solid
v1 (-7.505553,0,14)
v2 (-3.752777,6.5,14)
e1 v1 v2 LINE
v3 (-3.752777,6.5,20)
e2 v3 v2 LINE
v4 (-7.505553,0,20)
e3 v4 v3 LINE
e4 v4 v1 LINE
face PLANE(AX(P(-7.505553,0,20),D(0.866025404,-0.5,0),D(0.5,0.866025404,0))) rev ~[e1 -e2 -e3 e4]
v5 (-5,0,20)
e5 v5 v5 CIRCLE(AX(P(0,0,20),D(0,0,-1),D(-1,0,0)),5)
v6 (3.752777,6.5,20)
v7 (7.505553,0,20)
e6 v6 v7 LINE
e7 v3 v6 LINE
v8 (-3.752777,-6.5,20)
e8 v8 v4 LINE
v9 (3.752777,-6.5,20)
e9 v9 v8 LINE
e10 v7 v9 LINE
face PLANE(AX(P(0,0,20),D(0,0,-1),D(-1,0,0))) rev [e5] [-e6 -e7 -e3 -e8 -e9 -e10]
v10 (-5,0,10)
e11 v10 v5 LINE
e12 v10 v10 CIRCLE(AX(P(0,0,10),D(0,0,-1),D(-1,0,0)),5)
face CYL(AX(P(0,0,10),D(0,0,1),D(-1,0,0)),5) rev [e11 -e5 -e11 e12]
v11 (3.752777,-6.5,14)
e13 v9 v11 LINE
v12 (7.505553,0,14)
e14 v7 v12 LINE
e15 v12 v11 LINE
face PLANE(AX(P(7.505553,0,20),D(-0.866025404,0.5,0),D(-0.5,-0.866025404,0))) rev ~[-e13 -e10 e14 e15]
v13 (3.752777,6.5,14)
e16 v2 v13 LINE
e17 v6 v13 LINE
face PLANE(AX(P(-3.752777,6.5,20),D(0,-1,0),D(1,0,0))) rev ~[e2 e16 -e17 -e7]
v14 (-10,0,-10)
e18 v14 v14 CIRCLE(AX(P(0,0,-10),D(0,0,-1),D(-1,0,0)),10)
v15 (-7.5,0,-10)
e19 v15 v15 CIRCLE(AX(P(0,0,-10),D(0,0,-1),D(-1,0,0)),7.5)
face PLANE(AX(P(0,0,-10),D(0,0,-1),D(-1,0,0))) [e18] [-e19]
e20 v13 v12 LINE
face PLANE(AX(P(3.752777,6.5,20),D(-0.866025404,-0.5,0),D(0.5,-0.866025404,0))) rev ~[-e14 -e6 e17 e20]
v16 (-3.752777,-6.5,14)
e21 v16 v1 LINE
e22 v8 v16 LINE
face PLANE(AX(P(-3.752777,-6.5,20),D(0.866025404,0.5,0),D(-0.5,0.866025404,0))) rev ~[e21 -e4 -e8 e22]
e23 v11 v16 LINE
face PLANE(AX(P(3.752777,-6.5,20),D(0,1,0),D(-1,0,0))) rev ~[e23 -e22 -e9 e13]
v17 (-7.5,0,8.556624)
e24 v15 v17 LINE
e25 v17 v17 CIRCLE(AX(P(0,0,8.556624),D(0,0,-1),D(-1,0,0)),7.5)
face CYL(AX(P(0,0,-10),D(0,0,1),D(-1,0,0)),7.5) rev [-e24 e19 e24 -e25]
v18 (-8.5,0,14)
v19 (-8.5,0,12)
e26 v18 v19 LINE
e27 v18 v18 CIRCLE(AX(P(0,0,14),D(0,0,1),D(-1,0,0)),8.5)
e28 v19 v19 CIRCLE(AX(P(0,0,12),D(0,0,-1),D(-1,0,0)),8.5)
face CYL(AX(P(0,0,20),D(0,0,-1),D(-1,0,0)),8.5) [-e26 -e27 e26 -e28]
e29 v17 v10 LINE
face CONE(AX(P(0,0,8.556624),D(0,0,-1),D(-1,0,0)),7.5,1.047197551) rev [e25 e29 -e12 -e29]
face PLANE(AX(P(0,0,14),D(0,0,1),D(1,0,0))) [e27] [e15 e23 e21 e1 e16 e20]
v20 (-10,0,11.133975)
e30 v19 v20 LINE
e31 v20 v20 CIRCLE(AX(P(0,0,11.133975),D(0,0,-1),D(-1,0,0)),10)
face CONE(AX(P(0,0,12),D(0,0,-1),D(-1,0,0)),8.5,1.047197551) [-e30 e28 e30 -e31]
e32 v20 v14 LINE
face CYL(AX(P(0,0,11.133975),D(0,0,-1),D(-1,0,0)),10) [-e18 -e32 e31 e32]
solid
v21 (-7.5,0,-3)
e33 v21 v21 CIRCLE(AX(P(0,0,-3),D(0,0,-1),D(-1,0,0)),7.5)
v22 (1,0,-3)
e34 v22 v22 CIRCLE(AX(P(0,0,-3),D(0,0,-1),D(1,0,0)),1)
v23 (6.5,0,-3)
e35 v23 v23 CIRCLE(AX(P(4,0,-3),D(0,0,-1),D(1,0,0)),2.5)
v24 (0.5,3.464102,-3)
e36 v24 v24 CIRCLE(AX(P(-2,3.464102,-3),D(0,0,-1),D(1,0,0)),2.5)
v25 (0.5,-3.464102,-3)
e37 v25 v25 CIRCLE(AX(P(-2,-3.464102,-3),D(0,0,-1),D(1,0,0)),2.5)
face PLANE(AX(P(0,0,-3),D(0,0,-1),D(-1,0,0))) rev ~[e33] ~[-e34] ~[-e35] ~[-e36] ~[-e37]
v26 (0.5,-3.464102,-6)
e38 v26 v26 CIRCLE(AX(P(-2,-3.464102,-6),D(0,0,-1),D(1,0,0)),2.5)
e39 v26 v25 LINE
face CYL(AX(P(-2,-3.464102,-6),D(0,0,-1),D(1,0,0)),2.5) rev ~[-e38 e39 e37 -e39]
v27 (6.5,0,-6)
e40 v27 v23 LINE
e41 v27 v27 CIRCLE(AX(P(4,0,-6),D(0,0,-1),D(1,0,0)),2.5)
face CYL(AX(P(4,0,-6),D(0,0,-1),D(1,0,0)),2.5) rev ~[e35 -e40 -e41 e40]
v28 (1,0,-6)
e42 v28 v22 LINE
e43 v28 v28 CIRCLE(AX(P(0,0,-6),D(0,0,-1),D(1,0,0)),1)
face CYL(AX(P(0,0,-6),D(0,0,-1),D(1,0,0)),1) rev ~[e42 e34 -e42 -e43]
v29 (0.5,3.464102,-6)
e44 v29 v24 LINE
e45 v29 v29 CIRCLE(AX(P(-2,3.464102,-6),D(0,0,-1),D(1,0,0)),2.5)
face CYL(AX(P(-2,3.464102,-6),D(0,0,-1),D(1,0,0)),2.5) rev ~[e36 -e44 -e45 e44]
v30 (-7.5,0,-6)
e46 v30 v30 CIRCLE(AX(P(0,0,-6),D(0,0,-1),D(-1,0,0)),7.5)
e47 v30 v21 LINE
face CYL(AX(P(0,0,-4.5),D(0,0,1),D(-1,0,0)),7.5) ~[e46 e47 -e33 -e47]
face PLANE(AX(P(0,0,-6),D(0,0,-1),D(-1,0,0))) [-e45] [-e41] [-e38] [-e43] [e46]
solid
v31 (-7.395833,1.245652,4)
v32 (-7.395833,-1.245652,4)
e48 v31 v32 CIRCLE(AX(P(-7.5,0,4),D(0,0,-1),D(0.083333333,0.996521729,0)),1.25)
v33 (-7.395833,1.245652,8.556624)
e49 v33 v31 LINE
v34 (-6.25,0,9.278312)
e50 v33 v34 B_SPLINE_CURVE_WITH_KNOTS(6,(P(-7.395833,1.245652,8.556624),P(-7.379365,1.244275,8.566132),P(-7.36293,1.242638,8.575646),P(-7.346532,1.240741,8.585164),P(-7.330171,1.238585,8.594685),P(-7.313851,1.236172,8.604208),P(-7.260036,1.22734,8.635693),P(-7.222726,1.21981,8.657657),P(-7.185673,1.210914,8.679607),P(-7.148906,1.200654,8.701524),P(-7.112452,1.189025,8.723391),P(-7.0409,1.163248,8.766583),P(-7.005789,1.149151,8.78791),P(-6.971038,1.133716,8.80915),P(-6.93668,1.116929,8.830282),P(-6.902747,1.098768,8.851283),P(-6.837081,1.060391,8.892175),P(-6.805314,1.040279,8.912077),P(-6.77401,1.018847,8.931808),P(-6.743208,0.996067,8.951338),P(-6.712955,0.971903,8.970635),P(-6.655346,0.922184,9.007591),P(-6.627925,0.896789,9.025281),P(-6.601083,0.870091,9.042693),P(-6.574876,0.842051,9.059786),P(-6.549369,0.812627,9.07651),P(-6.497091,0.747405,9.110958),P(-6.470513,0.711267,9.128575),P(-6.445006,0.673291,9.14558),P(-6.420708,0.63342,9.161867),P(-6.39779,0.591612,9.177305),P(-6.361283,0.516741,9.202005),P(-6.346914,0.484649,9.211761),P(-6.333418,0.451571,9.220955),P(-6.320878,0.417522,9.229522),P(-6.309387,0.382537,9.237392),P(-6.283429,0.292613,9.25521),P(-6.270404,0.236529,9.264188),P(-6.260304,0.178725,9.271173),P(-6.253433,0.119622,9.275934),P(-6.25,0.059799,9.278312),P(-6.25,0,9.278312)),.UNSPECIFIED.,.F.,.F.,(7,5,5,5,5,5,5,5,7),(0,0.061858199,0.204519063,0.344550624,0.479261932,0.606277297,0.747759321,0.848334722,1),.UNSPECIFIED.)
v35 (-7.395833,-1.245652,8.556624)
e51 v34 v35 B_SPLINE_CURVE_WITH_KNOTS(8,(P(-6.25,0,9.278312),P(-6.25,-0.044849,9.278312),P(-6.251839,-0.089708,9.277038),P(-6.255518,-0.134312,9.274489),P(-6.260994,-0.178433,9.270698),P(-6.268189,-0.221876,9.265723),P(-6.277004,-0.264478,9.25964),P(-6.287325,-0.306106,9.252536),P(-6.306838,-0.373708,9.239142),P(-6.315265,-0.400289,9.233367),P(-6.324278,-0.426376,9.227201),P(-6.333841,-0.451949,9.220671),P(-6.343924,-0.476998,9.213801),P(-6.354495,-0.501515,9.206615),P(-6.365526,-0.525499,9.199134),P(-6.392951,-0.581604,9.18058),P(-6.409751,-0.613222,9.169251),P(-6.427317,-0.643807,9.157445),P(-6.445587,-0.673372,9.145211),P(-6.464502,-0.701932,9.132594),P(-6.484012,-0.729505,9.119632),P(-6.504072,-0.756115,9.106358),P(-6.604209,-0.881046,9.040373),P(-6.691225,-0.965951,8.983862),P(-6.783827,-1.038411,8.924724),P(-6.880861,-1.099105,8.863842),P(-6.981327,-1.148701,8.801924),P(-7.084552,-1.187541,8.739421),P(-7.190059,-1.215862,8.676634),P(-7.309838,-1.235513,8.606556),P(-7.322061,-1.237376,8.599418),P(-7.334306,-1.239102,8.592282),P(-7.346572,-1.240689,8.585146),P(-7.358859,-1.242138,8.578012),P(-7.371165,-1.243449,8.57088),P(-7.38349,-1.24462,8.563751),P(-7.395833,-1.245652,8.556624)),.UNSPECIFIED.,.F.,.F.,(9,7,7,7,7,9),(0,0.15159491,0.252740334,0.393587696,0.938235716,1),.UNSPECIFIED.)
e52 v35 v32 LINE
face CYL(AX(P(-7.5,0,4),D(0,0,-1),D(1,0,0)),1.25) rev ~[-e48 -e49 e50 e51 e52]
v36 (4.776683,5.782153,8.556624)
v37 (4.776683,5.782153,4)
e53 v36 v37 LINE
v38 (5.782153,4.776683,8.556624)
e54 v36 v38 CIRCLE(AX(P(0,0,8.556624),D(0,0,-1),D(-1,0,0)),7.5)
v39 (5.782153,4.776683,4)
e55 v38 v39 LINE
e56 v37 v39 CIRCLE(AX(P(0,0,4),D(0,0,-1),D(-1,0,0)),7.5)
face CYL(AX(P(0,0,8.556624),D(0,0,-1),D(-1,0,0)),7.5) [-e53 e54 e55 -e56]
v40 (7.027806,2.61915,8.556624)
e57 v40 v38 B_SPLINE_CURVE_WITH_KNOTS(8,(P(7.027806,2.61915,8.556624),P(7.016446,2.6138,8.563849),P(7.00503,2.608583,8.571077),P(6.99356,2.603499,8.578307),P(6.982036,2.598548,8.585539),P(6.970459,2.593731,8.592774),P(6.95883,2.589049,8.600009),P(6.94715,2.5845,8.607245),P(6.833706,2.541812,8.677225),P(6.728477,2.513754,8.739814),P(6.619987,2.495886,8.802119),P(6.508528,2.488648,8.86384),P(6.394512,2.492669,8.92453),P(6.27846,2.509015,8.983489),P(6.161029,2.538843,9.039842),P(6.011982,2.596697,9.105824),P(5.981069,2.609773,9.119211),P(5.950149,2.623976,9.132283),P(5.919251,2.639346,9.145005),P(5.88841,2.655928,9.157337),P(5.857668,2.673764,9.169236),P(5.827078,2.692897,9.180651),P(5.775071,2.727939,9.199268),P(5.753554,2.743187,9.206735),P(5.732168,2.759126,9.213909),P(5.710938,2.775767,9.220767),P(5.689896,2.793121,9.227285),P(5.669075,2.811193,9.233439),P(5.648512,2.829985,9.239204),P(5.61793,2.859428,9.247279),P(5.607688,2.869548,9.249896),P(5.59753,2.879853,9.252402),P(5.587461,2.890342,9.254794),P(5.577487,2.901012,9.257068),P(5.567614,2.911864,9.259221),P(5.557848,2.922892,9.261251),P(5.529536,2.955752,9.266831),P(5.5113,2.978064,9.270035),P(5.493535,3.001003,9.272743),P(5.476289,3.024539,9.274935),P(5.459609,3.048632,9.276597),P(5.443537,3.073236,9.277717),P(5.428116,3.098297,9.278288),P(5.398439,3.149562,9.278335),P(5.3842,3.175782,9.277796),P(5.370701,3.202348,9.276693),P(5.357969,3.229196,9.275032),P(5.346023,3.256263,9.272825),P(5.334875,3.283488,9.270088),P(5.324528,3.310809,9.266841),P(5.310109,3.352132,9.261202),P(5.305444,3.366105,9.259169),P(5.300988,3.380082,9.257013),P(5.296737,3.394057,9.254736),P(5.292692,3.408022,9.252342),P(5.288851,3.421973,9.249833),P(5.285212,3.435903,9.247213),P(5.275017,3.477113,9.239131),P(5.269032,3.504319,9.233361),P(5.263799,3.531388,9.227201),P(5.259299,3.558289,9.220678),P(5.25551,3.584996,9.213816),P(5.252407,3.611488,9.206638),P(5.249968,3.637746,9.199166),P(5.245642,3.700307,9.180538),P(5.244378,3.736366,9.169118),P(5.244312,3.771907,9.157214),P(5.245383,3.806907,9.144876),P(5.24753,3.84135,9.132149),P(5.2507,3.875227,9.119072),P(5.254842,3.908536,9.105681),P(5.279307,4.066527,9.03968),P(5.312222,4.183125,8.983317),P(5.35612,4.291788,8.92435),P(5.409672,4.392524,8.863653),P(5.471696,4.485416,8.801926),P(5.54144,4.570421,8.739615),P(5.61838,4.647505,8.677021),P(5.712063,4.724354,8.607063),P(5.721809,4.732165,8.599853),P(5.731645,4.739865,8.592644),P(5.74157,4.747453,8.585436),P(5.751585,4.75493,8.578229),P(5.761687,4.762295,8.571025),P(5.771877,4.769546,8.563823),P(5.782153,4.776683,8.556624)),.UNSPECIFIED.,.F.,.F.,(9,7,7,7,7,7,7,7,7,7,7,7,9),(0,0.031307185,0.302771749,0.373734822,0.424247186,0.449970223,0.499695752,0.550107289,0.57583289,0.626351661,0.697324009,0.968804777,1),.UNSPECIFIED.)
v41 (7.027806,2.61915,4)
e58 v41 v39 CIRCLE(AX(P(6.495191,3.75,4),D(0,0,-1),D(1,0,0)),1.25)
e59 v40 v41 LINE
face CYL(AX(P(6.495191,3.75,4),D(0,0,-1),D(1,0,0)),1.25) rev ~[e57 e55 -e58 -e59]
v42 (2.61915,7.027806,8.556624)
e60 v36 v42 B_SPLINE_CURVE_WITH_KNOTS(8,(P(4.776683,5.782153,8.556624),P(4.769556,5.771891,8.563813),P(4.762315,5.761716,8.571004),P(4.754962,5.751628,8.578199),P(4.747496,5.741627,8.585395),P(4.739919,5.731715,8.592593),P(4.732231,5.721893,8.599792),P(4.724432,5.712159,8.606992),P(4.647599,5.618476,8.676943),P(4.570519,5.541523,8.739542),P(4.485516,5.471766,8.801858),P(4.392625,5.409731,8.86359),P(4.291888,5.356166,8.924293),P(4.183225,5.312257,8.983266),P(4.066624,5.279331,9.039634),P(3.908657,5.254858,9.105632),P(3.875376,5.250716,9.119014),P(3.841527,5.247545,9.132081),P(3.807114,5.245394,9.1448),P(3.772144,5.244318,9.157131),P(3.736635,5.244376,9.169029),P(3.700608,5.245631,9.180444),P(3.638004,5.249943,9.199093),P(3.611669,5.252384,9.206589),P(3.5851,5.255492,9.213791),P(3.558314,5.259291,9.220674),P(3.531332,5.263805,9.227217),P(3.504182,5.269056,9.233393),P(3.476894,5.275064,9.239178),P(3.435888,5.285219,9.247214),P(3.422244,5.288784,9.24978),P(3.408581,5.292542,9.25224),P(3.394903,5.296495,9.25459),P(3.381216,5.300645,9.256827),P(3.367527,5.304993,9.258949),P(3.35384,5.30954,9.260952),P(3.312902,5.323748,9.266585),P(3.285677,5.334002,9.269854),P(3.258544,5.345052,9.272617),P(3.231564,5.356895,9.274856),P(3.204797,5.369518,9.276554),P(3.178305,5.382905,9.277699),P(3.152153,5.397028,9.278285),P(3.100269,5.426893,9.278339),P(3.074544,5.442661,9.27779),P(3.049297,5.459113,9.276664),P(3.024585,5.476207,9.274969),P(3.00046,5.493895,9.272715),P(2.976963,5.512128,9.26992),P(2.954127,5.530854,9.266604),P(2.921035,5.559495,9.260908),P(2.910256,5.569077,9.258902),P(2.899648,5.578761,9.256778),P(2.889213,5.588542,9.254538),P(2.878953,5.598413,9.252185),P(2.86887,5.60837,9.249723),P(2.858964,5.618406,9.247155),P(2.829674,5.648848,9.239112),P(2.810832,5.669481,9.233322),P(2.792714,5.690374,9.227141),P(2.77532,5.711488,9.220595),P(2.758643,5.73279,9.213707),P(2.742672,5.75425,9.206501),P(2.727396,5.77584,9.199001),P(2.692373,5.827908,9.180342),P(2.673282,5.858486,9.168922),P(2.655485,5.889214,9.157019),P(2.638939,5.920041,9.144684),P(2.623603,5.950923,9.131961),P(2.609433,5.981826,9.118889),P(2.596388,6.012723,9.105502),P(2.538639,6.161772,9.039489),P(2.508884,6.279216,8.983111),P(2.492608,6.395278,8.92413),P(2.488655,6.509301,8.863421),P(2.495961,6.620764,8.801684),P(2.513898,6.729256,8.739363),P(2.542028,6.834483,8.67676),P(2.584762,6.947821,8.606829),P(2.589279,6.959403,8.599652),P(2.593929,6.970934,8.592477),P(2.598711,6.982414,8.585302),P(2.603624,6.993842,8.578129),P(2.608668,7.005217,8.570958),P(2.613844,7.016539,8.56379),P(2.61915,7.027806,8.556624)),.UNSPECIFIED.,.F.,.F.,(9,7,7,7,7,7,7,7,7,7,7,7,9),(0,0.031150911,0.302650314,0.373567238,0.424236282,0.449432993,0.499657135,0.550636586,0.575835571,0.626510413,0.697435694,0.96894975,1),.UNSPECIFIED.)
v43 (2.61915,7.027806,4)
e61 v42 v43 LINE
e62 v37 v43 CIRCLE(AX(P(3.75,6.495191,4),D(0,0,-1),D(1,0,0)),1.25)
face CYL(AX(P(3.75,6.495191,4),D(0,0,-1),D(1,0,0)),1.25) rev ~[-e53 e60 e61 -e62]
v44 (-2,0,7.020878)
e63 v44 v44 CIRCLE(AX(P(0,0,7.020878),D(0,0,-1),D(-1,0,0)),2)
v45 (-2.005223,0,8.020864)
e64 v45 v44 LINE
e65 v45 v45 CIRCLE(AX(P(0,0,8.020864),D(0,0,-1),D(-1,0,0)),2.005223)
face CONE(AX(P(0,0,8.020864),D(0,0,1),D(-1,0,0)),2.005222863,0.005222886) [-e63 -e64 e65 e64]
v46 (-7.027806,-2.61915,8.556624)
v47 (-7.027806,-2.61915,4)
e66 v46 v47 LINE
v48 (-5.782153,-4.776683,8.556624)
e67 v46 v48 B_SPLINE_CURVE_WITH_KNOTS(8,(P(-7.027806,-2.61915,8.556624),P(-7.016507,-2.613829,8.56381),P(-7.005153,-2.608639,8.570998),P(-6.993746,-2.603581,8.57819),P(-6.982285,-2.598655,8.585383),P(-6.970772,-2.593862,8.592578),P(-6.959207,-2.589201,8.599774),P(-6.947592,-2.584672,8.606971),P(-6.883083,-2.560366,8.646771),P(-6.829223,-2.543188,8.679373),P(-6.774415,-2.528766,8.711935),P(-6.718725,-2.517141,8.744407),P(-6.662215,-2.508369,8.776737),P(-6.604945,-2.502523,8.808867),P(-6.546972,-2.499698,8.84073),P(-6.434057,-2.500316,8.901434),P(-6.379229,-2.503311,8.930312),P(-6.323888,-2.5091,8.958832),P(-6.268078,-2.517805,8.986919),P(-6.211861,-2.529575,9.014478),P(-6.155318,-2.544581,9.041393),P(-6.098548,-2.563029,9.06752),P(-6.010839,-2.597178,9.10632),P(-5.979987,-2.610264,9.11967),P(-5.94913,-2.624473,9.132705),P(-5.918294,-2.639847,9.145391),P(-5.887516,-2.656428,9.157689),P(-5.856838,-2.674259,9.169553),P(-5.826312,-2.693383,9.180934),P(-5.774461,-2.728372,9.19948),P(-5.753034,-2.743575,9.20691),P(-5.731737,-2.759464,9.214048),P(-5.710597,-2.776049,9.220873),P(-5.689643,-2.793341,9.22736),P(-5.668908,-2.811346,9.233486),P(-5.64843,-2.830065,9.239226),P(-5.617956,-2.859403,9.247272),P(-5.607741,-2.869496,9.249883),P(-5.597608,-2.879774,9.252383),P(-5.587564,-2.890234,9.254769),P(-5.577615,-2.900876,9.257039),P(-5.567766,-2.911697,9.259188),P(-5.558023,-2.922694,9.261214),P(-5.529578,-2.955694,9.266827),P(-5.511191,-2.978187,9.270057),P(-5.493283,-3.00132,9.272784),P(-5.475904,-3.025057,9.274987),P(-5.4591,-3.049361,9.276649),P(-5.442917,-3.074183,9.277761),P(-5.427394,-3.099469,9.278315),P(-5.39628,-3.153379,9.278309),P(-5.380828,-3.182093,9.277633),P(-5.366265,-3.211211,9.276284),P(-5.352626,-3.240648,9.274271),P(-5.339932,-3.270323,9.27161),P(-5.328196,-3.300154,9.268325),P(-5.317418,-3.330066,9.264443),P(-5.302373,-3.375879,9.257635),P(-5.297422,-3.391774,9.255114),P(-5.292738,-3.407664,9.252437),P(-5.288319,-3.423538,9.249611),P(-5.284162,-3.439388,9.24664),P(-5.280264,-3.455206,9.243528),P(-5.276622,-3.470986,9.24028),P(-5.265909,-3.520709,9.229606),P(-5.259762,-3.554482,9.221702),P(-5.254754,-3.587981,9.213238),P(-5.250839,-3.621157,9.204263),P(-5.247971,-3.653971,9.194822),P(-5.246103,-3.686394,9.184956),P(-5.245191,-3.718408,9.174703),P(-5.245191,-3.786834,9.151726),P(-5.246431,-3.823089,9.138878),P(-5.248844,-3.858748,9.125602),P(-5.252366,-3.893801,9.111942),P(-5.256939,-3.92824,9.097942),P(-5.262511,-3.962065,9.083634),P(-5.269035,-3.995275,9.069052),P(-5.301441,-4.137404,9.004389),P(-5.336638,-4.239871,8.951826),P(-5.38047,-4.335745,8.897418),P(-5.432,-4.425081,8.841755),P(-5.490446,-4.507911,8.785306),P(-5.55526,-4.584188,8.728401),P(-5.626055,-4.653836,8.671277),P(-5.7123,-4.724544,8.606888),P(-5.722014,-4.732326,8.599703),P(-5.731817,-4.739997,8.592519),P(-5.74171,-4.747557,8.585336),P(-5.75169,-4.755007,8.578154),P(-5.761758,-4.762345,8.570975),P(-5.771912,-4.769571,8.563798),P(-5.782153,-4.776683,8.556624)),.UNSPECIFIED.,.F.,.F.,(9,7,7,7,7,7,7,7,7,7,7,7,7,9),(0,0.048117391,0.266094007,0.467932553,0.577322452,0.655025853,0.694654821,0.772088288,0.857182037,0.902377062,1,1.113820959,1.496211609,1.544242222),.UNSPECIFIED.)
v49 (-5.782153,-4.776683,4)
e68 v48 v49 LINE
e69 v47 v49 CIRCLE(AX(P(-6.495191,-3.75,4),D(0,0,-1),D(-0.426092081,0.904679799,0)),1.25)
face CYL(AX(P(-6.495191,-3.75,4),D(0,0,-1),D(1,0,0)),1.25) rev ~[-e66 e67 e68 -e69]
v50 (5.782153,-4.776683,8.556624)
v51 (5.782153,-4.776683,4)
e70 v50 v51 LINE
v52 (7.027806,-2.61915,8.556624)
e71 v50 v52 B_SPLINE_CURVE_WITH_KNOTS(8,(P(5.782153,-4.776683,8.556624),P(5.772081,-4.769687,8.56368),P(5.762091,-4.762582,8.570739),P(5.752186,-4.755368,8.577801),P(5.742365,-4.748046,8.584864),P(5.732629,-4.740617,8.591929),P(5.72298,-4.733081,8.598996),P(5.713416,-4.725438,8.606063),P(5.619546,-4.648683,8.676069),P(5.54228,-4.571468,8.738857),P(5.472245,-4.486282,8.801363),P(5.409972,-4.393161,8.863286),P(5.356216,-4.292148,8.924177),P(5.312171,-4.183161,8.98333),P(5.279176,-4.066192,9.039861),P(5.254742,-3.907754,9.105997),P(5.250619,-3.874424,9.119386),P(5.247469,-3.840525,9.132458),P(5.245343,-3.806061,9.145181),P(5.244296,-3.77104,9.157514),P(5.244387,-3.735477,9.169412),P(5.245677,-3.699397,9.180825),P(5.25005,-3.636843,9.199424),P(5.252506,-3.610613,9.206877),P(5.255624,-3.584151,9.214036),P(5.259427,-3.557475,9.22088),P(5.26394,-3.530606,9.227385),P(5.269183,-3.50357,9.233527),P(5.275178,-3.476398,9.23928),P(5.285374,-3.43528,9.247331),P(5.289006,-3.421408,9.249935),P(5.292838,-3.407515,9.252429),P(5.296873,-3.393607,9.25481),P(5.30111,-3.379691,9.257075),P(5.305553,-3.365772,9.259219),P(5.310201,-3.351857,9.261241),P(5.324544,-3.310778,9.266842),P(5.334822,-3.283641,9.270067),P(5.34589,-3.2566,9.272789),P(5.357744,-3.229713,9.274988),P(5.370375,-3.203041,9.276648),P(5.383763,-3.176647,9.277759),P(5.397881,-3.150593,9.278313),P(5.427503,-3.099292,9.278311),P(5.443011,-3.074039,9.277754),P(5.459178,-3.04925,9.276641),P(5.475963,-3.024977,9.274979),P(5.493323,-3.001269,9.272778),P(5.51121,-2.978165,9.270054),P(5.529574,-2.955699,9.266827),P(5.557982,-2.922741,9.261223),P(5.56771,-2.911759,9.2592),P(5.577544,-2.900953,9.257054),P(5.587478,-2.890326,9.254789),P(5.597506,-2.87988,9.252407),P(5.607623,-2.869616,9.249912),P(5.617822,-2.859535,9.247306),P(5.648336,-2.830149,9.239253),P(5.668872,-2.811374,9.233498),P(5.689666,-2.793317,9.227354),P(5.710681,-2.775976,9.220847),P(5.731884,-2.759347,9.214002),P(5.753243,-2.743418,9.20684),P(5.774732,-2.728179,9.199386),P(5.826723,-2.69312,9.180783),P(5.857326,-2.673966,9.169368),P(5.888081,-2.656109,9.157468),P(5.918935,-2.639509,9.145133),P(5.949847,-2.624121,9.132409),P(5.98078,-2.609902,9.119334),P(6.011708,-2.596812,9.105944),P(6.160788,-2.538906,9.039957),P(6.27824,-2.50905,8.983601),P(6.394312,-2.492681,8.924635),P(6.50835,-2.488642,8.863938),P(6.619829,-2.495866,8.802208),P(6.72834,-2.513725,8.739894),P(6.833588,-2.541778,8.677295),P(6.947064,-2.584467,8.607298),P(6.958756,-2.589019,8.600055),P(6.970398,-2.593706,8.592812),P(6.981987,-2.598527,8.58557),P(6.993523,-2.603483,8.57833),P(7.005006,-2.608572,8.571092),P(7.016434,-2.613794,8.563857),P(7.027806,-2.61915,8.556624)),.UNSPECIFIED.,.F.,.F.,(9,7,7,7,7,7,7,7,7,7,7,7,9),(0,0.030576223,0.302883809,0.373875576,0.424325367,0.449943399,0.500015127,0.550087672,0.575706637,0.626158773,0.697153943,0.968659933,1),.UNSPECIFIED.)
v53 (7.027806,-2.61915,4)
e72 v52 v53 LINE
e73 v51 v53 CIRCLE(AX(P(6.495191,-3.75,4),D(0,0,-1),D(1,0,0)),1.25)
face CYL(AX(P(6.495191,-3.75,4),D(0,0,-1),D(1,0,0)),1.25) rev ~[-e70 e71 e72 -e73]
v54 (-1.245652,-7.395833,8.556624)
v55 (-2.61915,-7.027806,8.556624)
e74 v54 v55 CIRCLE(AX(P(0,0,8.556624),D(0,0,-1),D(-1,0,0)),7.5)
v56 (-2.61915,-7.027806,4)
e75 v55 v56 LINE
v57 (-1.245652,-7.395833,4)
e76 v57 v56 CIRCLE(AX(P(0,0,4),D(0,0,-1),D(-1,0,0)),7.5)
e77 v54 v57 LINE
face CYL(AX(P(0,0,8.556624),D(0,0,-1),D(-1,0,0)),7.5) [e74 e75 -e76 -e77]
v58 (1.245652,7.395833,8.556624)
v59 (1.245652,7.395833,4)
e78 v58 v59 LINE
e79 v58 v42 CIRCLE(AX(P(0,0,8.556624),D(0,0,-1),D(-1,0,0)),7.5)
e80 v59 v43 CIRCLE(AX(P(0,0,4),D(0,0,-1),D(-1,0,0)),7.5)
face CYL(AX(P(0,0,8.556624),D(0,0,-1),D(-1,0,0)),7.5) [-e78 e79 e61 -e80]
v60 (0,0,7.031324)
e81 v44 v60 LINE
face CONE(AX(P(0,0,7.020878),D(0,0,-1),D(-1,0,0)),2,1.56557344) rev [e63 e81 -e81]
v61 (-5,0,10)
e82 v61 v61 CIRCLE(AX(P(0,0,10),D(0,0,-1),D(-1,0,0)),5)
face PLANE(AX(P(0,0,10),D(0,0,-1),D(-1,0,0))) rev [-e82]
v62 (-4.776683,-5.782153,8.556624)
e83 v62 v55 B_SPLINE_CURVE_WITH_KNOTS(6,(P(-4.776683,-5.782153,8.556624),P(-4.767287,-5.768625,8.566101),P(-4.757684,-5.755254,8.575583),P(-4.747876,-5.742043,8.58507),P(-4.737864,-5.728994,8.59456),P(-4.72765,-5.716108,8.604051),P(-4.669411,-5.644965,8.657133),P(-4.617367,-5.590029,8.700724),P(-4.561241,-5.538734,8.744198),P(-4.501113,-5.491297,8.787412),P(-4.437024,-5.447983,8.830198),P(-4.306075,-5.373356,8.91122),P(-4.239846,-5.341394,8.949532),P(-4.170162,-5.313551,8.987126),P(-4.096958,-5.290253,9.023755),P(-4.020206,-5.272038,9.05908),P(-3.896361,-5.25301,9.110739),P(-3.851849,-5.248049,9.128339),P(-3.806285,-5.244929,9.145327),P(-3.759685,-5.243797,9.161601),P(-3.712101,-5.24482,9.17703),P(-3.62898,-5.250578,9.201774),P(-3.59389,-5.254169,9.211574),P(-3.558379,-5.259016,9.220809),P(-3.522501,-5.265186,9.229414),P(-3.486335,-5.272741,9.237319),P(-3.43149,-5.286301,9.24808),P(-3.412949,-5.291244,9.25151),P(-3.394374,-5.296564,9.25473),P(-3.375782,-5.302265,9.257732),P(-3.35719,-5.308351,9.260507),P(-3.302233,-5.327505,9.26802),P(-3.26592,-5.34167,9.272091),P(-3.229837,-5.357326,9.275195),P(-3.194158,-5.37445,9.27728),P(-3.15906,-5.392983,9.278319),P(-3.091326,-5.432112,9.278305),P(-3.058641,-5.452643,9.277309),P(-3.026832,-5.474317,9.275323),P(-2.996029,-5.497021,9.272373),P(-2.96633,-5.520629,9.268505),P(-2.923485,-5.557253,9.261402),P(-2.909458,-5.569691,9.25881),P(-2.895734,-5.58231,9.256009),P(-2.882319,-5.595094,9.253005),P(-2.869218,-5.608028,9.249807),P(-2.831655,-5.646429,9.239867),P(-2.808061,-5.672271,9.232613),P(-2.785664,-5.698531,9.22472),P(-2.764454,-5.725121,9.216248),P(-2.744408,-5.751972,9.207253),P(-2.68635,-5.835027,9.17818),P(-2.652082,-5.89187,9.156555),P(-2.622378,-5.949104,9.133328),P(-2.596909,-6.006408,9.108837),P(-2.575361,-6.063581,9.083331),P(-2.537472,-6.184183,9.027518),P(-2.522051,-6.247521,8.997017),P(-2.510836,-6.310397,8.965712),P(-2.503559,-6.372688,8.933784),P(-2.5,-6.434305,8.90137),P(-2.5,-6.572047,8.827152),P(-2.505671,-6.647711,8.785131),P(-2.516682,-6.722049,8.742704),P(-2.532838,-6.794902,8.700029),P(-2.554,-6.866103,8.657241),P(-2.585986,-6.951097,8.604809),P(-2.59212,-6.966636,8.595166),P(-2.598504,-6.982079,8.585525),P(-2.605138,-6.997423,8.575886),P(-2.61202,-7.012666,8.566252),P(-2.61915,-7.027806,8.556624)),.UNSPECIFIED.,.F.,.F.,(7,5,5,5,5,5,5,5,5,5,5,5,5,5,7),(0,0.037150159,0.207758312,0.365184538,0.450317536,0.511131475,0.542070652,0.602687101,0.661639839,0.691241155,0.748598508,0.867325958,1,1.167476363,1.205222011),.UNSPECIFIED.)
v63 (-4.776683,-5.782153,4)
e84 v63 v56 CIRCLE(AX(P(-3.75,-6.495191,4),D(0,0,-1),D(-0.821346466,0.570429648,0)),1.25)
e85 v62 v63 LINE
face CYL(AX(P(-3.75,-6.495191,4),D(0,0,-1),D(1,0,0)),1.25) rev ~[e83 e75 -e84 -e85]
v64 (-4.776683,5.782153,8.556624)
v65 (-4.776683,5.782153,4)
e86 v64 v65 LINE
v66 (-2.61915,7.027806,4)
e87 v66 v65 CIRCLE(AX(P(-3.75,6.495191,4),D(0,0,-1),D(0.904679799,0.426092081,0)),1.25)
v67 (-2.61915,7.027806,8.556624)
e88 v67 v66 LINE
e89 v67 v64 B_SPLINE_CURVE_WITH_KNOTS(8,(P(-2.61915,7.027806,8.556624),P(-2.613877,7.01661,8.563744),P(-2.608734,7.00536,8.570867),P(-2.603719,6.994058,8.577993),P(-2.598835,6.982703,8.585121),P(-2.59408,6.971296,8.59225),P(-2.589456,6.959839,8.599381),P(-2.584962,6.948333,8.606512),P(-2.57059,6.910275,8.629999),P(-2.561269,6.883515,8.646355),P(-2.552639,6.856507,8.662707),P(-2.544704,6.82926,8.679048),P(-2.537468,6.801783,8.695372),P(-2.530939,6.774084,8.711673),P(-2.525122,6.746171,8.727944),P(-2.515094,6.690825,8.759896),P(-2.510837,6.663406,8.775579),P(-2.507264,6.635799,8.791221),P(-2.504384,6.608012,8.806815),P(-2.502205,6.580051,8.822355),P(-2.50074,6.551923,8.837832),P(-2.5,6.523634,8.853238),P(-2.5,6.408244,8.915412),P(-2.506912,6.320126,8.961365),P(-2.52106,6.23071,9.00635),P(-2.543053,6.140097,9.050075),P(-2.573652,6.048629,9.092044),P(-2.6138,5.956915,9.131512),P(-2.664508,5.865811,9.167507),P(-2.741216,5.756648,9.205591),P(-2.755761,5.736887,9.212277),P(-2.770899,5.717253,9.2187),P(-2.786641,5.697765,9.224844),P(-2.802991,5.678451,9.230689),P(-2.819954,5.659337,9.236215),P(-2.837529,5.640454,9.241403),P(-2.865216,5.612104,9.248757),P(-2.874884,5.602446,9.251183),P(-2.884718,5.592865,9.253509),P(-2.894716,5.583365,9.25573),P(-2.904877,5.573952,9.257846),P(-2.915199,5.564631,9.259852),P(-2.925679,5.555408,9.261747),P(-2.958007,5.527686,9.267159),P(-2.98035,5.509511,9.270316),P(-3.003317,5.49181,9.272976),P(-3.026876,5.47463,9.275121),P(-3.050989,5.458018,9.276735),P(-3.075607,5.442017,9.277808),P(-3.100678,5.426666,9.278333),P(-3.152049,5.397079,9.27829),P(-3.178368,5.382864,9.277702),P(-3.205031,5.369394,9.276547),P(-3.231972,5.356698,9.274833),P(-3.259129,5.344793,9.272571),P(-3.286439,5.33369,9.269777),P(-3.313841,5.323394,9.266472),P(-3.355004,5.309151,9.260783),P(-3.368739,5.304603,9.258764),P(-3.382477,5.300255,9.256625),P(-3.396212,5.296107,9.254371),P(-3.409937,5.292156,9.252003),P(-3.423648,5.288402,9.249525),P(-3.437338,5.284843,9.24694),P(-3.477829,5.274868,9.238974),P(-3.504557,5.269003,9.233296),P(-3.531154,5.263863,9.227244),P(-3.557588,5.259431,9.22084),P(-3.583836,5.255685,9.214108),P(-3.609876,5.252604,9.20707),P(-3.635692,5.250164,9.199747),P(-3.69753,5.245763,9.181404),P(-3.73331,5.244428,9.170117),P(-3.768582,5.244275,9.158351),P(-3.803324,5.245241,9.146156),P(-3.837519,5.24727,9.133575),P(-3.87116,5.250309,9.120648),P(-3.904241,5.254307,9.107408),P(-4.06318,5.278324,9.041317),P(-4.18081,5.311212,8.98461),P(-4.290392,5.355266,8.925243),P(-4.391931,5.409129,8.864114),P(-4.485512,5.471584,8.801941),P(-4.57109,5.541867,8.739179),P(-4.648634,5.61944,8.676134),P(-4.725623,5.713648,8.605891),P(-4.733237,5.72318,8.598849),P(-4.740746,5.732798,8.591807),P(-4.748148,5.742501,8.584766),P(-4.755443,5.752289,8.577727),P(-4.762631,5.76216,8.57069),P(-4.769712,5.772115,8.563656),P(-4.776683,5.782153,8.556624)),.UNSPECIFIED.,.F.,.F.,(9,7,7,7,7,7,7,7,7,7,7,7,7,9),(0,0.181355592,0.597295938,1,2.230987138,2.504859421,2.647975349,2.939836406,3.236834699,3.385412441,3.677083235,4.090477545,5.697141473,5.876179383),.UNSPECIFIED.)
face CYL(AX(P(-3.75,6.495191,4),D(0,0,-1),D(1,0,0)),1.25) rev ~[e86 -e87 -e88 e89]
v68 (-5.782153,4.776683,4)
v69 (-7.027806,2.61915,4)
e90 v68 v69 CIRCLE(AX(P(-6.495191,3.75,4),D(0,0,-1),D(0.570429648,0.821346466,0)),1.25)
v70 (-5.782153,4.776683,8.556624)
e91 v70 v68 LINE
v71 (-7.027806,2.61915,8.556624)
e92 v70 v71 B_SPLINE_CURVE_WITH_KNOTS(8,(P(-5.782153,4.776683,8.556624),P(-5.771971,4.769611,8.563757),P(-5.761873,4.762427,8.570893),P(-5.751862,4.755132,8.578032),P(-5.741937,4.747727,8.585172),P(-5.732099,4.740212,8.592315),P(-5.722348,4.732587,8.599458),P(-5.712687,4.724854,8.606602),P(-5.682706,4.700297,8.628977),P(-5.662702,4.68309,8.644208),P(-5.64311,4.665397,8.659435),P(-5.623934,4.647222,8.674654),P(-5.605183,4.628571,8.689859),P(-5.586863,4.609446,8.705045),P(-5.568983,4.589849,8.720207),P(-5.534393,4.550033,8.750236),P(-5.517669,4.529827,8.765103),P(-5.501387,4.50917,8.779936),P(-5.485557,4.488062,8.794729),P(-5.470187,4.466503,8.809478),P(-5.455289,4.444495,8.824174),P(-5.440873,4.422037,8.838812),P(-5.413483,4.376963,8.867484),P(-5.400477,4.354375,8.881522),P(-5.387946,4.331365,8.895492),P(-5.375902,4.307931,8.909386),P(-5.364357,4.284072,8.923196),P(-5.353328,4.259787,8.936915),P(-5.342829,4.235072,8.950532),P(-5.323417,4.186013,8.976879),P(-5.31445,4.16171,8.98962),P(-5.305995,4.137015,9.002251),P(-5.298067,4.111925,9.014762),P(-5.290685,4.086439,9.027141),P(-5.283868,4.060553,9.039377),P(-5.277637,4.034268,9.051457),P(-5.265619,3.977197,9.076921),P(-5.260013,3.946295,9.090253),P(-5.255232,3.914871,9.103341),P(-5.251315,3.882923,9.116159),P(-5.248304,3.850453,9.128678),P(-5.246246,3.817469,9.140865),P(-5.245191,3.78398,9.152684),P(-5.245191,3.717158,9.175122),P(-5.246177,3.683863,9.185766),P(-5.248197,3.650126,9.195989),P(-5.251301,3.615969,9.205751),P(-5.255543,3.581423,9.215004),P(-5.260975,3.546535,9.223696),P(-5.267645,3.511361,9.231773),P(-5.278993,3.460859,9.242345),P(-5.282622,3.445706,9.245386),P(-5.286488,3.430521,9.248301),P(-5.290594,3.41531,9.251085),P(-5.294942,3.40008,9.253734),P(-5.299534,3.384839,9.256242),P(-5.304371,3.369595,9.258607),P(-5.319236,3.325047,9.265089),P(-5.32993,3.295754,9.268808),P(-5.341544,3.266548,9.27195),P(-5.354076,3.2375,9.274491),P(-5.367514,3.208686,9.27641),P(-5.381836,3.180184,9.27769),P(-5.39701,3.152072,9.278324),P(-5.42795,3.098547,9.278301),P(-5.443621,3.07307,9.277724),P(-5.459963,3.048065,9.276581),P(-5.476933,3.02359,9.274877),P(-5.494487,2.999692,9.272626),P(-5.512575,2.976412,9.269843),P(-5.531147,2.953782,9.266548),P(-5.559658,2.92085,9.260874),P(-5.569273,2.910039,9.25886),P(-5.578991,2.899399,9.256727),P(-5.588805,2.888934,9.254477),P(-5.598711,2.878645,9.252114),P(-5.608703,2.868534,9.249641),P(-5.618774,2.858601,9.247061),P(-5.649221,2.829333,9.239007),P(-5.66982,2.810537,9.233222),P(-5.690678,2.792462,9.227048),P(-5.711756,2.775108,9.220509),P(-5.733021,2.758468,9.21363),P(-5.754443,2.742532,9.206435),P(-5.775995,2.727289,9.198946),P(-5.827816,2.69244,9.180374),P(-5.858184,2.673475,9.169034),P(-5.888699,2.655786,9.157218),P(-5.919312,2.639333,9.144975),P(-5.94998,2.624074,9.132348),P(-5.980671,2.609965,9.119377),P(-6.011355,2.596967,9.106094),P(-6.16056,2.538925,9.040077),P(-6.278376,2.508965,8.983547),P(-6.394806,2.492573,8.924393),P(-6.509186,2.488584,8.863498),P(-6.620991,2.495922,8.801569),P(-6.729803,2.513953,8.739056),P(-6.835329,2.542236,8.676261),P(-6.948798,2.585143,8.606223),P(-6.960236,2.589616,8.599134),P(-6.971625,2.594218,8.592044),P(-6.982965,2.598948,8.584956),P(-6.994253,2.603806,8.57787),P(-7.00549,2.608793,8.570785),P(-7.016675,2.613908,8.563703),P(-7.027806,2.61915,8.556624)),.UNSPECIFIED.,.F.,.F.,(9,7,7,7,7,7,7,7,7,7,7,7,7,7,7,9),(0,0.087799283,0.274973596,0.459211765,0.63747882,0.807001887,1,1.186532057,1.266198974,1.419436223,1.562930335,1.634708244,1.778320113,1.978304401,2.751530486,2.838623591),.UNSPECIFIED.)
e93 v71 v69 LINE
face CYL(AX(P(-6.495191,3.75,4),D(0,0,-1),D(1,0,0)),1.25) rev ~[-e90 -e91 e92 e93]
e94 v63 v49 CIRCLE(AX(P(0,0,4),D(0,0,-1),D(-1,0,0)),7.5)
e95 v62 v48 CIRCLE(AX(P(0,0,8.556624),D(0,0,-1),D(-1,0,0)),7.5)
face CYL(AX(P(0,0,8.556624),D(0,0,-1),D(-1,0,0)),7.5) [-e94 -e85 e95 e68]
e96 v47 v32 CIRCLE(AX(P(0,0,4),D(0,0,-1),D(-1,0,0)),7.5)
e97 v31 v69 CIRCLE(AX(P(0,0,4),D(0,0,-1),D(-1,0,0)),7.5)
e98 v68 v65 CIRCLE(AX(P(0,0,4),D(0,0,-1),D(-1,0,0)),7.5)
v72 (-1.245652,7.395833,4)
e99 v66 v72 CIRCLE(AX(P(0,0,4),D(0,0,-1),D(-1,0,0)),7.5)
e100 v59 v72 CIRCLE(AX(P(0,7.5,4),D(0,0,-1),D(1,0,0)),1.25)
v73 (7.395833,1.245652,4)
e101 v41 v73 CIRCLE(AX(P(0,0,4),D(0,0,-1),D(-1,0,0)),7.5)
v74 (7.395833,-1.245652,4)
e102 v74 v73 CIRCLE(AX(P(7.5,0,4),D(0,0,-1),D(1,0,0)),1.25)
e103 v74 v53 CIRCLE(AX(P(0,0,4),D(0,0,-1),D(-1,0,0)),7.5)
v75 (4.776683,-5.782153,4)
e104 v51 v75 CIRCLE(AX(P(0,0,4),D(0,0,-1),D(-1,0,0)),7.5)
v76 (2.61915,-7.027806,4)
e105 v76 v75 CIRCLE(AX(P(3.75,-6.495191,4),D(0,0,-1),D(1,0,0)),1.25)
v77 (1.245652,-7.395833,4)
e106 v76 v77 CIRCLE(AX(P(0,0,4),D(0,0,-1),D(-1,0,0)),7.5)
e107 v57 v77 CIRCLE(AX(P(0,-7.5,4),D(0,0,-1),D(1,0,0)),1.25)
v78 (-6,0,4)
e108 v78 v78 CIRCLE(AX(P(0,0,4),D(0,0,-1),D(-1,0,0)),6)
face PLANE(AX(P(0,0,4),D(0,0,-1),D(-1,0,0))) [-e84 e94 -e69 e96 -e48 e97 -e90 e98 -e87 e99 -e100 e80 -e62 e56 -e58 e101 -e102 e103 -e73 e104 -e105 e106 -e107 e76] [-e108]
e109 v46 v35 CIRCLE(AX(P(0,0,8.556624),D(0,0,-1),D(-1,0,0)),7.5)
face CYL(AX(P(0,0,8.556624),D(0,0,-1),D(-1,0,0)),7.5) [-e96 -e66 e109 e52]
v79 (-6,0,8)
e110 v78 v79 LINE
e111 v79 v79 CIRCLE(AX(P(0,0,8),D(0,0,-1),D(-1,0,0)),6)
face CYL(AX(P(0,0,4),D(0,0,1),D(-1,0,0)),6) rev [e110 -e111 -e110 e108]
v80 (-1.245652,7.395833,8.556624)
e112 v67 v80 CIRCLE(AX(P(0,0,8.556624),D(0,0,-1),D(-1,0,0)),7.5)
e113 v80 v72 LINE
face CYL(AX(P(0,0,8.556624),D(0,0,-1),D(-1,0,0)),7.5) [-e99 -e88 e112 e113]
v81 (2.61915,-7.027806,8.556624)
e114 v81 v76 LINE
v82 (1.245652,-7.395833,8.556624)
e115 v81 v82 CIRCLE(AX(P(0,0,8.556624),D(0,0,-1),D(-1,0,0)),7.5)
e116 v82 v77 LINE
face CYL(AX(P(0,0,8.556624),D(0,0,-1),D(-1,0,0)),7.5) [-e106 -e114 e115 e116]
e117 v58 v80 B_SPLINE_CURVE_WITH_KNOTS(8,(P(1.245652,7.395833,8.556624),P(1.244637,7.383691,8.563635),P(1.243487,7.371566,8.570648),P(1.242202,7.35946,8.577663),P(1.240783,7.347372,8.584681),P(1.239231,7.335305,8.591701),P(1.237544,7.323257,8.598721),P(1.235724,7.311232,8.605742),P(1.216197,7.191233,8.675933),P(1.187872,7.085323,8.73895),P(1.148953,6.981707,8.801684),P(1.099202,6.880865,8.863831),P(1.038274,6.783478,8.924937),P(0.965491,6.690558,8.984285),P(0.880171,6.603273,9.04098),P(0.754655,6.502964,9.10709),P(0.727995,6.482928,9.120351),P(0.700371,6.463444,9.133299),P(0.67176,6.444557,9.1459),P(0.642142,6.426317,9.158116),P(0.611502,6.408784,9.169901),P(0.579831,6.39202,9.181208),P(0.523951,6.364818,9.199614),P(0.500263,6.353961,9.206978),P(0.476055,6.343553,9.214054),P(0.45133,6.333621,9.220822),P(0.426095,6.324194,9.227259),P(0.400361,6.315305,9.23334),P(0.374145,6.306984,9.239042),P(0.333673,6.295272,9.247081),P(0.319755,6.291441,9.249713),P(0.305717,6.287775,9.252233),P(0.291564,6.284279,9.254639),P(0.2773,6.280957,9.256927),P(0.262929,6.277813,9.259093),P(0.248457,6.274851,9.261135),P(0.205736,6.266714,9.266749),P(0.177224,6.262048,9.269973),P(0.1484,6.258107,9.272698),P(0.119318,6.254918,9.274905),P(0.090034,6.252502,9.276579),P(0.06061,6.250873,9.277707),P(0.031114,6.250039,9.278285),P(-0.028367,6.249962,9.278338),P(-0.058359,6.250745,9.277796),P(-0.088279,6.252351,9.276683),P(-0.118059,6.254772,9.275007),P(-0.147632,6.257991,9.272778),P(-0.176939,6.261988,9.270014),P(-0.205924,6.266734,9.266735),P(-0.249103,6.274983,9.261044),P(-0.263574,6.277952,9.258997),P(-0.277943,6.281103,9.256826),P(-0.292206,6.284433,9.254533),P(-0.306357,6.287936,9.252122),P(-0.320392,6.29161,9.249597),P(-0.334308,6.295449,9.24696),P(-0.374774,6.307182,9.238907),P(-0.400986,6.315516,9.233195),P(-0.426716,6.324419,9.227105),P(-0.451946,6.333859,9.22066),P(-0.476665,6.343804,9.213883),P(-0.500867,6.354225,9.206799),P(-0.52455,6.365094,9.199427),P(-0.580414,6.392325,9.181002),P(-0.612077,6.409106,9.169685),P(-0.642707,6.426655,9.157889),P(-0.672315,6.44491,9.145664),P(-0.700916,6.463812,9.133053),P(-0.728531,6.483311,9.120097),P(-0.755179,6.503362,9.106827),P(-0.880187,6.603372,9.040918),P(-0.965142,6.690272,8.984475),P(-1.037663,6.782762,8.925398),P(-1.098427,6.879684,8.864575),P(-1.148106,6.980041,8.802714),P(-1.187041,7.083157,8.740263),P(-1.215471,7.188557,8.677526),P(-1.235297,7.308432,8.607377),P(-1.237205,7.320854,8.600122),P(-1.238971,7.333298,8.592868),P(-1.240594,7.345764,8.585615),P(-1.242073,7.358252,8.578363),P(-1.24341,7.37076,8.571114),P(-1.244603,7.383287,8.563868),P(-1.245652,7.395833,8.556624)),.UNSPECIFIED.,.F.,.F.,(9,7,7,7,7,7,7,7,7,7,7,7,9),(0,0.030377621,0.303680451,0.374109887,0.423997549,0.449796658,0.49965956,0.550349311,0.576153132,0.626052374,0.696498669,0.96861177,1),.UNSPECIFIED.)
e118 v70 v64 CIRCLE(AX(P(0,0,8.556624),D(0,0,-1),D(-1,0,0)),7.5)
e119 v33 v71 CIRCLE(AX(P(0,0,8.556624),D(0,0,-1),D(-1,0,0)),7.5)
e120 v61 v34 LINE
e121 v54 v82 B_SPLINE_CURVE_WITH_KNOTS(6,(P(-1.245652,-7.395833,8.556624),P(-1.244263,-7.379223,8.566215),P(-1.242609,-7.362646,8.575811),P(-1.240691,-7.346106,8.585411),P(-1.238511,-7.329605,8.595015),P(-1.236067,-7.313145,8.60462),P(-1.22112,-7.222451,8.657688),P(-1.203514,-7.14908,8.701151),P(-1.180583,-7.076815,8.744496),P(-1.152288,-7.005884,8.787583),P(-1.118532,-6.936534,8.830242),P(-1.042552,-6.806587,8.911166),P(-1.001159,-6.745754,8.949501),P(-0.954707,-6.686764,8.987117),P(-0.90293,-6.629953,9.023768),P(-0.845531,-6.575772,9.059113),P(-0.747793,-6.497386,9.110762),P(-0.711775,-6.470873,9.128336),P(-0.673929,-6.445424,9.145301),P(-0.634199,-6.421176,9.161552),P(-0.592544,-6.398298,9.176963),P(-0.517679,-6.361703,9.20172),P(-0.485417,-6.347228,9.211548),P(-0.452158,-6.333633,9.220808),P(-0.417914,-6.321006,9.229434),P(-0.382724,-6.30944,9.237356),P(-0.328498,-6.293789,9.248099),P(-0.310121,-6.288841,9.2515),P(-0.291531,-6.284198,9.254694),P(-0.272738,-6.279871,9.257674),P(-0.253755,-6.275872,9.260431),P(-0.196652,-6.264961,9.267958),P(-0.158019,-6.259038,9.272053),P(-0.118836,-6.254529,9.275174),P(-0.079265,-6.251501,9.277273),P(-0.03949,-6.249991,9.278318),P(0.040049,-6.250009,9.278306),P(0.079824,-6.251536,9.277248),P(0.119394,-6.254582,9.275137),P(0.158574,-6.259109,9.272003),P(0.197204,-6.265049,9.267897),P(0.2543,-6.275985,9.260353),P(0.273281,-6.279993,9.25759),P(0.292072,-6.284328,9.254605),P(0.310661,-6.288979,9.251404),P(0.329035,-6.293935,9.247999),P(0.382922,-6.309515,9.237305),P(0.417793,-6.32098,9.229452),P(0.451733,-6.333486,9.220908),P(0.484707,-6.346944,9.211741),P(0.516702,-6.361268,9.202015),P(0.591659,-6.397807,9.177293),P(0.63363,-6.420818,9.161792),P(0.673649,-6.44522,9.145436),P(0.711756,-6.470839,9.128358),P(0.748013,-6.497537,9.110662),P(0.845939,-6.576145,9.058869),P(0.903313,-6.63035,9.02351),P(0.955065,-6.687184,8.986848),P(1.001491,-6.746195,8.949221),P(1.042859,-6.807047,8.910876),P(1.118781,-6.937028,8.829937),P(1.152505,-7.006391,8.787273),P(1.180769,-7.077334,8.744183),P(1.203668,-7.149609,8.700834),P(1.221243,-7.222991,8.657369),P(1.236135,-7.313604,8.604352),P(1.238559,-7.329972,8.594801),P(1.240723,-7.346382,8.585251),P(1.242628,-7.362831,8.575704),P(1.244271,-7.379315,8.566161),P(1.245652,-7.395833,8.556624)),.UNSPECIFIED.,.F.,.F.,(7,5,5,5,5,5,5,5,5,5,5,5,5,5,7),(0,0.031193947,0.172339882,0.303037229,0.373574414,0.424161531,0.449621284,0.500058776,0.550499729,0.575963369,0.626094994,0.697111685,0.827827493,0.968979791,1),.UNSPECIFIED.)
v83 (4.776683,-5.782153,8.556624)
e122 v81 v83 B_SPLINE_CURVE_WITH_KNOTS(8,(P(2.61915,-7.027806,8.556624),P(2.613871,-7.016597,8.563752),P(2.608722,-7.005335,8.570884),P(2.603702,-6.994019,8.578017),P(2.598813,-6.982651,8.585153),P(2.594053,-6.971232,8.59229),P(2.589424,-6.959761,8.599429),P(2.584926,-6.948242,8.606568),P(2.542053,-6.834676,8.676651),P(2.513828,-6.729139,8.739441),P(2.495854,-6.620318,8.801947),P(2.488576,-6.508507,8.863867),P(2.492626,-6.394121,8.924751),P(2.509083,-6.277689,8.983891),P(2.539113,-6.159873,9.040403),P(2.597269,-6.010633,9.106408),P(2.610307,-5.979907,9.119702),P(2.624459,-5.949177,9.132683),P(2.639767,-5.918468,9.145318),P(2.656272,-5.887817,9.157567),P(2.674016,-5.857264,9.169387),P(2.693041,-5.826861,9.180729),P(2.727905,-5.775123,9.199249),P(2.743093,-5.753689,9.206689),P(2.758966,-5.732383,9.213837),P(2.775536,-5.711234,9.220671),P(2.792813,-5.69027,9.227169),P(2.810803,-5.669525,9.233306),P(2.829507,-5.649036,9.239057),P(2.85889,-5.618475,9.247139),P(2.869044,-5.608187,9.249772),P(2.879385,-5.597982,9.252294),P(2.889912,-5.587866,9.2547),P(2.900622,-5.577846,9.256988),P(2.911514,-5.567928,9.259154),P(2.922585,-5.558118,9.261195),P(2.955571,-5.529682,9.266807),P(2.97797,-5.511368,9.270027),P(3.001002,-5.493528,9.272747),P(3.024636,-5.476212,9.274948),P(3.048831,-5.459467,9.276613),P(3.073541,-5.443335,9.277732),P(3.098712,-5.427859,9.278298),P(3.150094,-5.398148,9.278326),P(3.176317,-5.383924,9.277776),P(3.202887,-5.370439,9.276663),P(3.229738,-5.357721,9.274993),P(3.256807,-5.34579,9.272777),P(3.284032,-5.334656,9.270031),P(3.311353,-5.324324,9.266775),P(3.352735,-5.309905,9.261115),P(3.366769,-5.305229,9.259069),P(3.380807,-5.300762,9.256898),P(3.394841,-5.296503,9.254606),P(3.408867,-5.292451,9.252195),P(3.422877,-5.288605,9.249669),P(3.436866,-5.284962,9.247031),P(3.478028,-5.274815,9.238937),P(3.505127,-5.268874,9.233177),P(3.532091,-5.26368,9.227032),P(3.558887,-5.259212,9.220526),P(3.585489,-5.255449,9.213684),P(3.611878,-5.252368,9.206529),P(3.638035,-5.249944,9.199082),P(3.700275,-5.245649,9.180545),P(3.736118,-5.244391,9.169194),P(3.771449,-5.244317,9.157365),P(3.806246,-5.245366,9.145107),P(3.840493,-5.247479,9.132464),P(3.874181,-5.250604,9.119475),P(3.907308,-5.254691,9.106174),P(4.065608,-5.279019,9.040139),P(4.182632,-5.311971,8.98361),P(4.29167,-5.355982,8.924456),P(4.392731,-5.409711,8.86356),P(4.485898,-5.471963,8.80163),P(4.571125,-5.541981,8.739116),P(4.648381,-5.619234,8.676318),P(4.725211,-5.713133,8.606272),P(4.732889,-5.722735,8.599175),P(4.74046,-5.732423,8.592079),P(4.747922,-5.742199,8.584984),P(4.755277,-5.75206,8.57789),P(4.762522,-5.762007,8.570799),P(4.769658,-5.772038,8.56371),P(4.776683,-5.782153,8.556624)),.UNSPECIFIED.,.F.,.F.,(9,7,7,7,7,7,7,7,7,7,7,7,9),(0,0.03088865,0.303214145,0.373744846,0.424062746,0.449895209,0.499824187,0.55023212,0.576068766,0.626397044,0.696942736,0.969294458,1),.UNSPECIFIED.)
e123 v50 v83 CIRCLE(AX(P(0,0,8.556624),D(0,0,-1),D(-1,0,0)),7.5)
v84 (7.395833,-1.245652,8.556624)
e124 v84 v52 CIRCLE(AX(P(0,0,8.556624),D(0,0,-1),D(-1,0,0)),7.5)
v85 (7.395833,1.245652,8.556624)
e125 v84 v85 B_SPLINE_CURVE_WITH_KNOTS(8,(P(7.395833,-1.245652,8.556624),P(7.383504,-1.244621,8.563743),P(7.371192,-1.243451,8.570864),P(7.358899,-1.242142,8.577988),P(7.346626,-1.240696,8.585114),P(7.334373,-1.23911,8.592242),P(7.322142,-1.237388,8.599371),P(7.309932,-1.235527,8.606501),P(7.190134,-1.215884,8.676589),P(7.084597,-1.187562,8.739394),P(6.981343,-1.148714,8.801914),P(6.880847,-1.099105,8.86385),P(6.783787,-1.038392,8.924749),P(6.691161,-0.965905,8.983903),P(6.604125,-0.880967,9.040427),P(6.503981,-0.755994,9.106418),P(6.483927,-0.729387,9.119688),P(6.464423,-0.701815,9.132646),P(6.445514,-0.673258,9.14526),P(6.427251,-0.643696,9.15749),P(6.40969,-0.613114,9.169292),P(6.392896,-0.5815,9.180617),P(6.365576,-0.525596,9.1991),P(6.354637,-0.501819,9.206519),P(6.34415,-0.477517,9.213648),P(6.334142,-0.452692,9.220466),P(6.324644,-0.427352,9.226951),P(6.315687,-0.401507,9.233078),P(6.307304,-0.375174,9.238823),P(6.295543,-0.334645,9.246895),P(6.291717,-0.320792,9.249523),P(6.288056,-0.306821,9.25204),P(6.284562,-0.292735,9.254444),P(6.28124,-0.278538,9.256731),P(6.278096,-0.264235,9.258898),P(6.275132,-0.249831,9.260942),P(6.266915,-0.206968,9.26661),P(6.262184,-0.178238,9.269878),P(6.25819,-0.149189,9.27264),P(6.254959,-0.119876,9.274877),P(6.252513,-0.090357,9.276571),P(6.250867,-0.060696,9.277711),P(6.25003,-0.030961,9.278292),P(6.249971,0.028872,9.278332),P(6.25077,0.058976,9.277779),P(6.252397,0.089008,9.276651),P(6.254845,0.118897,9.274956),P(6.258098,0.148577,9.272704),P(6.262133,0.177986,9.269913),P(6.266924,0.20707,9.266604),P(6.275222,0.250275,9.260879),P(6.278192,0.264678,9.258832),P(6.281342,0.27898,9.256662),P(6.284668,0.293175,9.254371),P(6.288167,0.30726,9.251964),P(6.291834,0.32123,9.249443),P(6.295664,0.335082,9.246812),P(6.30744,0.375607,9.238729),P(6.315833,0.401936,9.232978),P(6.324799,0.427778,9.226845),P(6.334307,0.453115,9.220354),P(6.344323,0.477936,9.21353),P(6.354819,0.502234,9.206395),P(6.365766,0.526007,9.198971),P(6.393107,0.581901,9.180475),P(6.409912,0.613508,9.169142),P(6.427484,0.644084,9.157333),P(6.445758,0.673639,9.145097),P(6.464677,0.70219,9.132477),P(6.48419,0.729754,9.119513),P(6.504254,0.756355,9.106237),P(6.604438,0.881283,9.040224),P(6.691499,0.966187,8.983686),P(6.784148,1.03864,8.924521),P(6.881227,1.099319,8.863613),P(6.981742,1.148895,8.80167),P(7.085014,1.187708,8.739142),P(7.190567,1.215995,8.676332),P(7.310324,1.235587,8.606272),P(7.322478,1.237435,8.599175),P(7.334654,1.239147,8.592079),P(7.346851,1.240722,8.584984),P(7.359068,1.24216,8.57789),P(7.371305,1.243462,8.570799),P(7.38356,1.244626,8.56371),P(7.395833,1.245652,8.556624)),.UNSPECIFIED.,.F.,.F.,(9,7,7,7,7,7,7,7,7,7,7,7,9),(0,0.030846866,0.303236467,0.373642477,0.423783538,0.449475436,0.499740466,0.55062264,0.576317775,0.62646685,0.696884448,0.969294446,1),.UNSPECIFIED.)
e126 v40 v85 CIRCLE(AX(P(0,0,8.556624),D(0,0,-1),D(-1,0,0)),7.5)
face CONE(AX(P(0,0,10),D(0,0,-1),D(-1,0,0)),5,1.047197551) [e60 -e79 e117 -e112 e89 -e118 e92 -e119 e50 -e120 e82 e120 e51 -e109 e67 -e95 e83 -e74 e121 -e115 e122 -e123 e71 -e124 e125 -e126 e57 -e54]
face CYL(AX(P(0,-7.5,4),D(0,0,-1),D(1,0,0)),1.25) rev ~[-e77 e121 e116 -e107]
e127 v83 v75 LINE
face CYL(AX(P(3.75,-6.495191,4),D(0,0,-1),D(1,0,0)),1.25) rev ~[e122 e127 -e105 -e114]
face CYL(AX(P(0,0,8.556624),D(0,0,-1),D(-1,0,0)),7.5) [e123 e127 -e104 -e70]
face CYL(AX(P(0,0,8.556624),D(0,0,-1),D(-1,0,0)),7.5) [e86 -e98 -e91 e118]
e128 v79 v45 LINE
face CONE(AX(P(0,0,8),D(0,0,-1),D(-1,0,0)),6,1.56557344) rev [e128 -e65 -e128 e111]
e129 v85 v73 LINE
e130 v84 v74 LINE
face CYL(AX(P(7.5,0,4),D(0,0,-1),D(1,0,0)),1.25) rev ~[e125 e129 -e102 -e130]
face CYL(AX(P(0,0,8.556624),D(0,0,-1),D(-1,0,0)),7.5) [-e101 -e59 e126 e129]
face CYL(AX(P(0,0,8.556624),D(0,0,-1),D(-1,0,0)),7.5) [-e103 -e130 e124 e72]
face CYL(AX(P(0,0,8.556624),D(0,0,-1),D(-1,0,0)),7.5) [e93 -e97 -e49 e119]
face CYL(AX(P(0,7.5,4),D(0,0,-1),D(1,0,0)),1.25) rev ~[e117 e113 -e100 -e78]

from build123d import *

# Parameters (mm, degrees)
F0_W     = 7.5
F0_H     = 3
F4_R     = 2.5
F4_R_2   = 1
F5_DEPTH = 26.001
F6_R     = 1.25
F7_DEPTH = 8
F8_R     = 8.5
F9_DEPTH = 6


with BuildPart() as f1:
    # F0 (on Front) → F1 (revolve)
    with BuildSketch(Plane.XZ):
        Polygon((-5, 10), (-5, 20), (-8.5, 20), (-8.5, 12), (-10, 11.1339745962), (-10, -10), (-7.5, -10), (-7.5, -6), (-7.5, -3), (-7.5, 4), (-7.5, 8.556624327), align=None)
    revolve(axis=Axis((0, 0, 5.3995972465), (0, 0, -1)))

    # F8 (on face) → F9 (cut)
    with BuildSketch(Plane.XY.offset(20)):
        Circle(F8_R)
        Polygon((-3.7527767497, -6.5), (-7.5055534995, 0), (-3.7527767497, 6.5), (3.7527767497, 6.5), (7.5055534995, 0), (3.7527767497, -6.5), align=None, mode=Mode.SUBTRACT)
    extrude(amount=-F9_DEPTH, mode=Mode.SUBTRACT)


with BuildPart() as f2:
    # F0 (on Front) → F2 (revolve)
    with BuildSketch(Plane.XZ):
        Polygon((0, 10), (-5, 10), (-7.5, 8.556624327), (-7.5, 4), (-6, 4), (-6, 8), (-2.0052228626, 8.0208644567), (-2, 7.0208780959), (0, 7.0313239636), (0, 8.031337603), align=None)
    revolve(axis=Axis((0, 0, 5.3995972465), (0, 0, -1)))

    # F6 (on face) → F7 (cut)
    with BuildSketch(Plane(origin=(0, 0, 4), x_dir=(1, 0, 0), z_dir=(0, 0, -1))):
        with Locations((0, 7.5)):
            Circle(F6_R)
        with Locations((-3.75, 6.4951905284)):
            Circle(F6_R)
        with Locations((-6.4951905284, 3.75)):
            Circle(F6_R)
        with Locations((-7.5, 0)):
            Circle(F6_R)
        with Locations((-6.4951905284, -3.75)):
            Circle(F6_R)
        with Locations((-3.75, -6.4951905284)):
            Circle(F6_R)
        with Locations((0, -7.5)):
            Circle(F6_R)
        with Locations((3.75, -6.4951905284)):
            Circle(F6_R)
        with Locations((6.4951905284, -3.75)):
            Circle(F6_R)
        with Locations((7.5, 0)):
            Circle(F6_R)
        with Locations((6.4951905284, 3.75)):
            Circle(F6_R)
        with Locations((3.75, 6.4951905284)):
            Circle(F6_R)
    extrude(amount=-F7_DEPTH, mode=Mode.SUBTRACT)


with BuildPart() as f3:
    # F0 (on Front) → F3 (revolve)
    with BuildSketch(Plane.XZ):
        with Locations((-3.75, -4.5)):
            Rectangle(F0_W, F0_H)
    revolve(axis=Axis((0, 0, 5.3995972465), (0, 0, -1)))

    # F4 (on face) → F5 (cut, through all)
    with BuildSketch(Plane(origin=(0, 0, -6), x_dir=(1, 0, 0), z_dir=(0, 0, -1))):
        with Locations((4, 0)):
            Circle(F4_R)
        with Locations((-2, 3.4641016151)):
            Circle(F4_R)
        with Locations((-2, -3.4641016151)):
            Circle(F4_R)
        Circle(F4_R_2)
    extrude(amount=-F5_DEPTH, mode=Mode.SUBTRACT)


solid = Compound([f1.part, f2.part, f3.part])
